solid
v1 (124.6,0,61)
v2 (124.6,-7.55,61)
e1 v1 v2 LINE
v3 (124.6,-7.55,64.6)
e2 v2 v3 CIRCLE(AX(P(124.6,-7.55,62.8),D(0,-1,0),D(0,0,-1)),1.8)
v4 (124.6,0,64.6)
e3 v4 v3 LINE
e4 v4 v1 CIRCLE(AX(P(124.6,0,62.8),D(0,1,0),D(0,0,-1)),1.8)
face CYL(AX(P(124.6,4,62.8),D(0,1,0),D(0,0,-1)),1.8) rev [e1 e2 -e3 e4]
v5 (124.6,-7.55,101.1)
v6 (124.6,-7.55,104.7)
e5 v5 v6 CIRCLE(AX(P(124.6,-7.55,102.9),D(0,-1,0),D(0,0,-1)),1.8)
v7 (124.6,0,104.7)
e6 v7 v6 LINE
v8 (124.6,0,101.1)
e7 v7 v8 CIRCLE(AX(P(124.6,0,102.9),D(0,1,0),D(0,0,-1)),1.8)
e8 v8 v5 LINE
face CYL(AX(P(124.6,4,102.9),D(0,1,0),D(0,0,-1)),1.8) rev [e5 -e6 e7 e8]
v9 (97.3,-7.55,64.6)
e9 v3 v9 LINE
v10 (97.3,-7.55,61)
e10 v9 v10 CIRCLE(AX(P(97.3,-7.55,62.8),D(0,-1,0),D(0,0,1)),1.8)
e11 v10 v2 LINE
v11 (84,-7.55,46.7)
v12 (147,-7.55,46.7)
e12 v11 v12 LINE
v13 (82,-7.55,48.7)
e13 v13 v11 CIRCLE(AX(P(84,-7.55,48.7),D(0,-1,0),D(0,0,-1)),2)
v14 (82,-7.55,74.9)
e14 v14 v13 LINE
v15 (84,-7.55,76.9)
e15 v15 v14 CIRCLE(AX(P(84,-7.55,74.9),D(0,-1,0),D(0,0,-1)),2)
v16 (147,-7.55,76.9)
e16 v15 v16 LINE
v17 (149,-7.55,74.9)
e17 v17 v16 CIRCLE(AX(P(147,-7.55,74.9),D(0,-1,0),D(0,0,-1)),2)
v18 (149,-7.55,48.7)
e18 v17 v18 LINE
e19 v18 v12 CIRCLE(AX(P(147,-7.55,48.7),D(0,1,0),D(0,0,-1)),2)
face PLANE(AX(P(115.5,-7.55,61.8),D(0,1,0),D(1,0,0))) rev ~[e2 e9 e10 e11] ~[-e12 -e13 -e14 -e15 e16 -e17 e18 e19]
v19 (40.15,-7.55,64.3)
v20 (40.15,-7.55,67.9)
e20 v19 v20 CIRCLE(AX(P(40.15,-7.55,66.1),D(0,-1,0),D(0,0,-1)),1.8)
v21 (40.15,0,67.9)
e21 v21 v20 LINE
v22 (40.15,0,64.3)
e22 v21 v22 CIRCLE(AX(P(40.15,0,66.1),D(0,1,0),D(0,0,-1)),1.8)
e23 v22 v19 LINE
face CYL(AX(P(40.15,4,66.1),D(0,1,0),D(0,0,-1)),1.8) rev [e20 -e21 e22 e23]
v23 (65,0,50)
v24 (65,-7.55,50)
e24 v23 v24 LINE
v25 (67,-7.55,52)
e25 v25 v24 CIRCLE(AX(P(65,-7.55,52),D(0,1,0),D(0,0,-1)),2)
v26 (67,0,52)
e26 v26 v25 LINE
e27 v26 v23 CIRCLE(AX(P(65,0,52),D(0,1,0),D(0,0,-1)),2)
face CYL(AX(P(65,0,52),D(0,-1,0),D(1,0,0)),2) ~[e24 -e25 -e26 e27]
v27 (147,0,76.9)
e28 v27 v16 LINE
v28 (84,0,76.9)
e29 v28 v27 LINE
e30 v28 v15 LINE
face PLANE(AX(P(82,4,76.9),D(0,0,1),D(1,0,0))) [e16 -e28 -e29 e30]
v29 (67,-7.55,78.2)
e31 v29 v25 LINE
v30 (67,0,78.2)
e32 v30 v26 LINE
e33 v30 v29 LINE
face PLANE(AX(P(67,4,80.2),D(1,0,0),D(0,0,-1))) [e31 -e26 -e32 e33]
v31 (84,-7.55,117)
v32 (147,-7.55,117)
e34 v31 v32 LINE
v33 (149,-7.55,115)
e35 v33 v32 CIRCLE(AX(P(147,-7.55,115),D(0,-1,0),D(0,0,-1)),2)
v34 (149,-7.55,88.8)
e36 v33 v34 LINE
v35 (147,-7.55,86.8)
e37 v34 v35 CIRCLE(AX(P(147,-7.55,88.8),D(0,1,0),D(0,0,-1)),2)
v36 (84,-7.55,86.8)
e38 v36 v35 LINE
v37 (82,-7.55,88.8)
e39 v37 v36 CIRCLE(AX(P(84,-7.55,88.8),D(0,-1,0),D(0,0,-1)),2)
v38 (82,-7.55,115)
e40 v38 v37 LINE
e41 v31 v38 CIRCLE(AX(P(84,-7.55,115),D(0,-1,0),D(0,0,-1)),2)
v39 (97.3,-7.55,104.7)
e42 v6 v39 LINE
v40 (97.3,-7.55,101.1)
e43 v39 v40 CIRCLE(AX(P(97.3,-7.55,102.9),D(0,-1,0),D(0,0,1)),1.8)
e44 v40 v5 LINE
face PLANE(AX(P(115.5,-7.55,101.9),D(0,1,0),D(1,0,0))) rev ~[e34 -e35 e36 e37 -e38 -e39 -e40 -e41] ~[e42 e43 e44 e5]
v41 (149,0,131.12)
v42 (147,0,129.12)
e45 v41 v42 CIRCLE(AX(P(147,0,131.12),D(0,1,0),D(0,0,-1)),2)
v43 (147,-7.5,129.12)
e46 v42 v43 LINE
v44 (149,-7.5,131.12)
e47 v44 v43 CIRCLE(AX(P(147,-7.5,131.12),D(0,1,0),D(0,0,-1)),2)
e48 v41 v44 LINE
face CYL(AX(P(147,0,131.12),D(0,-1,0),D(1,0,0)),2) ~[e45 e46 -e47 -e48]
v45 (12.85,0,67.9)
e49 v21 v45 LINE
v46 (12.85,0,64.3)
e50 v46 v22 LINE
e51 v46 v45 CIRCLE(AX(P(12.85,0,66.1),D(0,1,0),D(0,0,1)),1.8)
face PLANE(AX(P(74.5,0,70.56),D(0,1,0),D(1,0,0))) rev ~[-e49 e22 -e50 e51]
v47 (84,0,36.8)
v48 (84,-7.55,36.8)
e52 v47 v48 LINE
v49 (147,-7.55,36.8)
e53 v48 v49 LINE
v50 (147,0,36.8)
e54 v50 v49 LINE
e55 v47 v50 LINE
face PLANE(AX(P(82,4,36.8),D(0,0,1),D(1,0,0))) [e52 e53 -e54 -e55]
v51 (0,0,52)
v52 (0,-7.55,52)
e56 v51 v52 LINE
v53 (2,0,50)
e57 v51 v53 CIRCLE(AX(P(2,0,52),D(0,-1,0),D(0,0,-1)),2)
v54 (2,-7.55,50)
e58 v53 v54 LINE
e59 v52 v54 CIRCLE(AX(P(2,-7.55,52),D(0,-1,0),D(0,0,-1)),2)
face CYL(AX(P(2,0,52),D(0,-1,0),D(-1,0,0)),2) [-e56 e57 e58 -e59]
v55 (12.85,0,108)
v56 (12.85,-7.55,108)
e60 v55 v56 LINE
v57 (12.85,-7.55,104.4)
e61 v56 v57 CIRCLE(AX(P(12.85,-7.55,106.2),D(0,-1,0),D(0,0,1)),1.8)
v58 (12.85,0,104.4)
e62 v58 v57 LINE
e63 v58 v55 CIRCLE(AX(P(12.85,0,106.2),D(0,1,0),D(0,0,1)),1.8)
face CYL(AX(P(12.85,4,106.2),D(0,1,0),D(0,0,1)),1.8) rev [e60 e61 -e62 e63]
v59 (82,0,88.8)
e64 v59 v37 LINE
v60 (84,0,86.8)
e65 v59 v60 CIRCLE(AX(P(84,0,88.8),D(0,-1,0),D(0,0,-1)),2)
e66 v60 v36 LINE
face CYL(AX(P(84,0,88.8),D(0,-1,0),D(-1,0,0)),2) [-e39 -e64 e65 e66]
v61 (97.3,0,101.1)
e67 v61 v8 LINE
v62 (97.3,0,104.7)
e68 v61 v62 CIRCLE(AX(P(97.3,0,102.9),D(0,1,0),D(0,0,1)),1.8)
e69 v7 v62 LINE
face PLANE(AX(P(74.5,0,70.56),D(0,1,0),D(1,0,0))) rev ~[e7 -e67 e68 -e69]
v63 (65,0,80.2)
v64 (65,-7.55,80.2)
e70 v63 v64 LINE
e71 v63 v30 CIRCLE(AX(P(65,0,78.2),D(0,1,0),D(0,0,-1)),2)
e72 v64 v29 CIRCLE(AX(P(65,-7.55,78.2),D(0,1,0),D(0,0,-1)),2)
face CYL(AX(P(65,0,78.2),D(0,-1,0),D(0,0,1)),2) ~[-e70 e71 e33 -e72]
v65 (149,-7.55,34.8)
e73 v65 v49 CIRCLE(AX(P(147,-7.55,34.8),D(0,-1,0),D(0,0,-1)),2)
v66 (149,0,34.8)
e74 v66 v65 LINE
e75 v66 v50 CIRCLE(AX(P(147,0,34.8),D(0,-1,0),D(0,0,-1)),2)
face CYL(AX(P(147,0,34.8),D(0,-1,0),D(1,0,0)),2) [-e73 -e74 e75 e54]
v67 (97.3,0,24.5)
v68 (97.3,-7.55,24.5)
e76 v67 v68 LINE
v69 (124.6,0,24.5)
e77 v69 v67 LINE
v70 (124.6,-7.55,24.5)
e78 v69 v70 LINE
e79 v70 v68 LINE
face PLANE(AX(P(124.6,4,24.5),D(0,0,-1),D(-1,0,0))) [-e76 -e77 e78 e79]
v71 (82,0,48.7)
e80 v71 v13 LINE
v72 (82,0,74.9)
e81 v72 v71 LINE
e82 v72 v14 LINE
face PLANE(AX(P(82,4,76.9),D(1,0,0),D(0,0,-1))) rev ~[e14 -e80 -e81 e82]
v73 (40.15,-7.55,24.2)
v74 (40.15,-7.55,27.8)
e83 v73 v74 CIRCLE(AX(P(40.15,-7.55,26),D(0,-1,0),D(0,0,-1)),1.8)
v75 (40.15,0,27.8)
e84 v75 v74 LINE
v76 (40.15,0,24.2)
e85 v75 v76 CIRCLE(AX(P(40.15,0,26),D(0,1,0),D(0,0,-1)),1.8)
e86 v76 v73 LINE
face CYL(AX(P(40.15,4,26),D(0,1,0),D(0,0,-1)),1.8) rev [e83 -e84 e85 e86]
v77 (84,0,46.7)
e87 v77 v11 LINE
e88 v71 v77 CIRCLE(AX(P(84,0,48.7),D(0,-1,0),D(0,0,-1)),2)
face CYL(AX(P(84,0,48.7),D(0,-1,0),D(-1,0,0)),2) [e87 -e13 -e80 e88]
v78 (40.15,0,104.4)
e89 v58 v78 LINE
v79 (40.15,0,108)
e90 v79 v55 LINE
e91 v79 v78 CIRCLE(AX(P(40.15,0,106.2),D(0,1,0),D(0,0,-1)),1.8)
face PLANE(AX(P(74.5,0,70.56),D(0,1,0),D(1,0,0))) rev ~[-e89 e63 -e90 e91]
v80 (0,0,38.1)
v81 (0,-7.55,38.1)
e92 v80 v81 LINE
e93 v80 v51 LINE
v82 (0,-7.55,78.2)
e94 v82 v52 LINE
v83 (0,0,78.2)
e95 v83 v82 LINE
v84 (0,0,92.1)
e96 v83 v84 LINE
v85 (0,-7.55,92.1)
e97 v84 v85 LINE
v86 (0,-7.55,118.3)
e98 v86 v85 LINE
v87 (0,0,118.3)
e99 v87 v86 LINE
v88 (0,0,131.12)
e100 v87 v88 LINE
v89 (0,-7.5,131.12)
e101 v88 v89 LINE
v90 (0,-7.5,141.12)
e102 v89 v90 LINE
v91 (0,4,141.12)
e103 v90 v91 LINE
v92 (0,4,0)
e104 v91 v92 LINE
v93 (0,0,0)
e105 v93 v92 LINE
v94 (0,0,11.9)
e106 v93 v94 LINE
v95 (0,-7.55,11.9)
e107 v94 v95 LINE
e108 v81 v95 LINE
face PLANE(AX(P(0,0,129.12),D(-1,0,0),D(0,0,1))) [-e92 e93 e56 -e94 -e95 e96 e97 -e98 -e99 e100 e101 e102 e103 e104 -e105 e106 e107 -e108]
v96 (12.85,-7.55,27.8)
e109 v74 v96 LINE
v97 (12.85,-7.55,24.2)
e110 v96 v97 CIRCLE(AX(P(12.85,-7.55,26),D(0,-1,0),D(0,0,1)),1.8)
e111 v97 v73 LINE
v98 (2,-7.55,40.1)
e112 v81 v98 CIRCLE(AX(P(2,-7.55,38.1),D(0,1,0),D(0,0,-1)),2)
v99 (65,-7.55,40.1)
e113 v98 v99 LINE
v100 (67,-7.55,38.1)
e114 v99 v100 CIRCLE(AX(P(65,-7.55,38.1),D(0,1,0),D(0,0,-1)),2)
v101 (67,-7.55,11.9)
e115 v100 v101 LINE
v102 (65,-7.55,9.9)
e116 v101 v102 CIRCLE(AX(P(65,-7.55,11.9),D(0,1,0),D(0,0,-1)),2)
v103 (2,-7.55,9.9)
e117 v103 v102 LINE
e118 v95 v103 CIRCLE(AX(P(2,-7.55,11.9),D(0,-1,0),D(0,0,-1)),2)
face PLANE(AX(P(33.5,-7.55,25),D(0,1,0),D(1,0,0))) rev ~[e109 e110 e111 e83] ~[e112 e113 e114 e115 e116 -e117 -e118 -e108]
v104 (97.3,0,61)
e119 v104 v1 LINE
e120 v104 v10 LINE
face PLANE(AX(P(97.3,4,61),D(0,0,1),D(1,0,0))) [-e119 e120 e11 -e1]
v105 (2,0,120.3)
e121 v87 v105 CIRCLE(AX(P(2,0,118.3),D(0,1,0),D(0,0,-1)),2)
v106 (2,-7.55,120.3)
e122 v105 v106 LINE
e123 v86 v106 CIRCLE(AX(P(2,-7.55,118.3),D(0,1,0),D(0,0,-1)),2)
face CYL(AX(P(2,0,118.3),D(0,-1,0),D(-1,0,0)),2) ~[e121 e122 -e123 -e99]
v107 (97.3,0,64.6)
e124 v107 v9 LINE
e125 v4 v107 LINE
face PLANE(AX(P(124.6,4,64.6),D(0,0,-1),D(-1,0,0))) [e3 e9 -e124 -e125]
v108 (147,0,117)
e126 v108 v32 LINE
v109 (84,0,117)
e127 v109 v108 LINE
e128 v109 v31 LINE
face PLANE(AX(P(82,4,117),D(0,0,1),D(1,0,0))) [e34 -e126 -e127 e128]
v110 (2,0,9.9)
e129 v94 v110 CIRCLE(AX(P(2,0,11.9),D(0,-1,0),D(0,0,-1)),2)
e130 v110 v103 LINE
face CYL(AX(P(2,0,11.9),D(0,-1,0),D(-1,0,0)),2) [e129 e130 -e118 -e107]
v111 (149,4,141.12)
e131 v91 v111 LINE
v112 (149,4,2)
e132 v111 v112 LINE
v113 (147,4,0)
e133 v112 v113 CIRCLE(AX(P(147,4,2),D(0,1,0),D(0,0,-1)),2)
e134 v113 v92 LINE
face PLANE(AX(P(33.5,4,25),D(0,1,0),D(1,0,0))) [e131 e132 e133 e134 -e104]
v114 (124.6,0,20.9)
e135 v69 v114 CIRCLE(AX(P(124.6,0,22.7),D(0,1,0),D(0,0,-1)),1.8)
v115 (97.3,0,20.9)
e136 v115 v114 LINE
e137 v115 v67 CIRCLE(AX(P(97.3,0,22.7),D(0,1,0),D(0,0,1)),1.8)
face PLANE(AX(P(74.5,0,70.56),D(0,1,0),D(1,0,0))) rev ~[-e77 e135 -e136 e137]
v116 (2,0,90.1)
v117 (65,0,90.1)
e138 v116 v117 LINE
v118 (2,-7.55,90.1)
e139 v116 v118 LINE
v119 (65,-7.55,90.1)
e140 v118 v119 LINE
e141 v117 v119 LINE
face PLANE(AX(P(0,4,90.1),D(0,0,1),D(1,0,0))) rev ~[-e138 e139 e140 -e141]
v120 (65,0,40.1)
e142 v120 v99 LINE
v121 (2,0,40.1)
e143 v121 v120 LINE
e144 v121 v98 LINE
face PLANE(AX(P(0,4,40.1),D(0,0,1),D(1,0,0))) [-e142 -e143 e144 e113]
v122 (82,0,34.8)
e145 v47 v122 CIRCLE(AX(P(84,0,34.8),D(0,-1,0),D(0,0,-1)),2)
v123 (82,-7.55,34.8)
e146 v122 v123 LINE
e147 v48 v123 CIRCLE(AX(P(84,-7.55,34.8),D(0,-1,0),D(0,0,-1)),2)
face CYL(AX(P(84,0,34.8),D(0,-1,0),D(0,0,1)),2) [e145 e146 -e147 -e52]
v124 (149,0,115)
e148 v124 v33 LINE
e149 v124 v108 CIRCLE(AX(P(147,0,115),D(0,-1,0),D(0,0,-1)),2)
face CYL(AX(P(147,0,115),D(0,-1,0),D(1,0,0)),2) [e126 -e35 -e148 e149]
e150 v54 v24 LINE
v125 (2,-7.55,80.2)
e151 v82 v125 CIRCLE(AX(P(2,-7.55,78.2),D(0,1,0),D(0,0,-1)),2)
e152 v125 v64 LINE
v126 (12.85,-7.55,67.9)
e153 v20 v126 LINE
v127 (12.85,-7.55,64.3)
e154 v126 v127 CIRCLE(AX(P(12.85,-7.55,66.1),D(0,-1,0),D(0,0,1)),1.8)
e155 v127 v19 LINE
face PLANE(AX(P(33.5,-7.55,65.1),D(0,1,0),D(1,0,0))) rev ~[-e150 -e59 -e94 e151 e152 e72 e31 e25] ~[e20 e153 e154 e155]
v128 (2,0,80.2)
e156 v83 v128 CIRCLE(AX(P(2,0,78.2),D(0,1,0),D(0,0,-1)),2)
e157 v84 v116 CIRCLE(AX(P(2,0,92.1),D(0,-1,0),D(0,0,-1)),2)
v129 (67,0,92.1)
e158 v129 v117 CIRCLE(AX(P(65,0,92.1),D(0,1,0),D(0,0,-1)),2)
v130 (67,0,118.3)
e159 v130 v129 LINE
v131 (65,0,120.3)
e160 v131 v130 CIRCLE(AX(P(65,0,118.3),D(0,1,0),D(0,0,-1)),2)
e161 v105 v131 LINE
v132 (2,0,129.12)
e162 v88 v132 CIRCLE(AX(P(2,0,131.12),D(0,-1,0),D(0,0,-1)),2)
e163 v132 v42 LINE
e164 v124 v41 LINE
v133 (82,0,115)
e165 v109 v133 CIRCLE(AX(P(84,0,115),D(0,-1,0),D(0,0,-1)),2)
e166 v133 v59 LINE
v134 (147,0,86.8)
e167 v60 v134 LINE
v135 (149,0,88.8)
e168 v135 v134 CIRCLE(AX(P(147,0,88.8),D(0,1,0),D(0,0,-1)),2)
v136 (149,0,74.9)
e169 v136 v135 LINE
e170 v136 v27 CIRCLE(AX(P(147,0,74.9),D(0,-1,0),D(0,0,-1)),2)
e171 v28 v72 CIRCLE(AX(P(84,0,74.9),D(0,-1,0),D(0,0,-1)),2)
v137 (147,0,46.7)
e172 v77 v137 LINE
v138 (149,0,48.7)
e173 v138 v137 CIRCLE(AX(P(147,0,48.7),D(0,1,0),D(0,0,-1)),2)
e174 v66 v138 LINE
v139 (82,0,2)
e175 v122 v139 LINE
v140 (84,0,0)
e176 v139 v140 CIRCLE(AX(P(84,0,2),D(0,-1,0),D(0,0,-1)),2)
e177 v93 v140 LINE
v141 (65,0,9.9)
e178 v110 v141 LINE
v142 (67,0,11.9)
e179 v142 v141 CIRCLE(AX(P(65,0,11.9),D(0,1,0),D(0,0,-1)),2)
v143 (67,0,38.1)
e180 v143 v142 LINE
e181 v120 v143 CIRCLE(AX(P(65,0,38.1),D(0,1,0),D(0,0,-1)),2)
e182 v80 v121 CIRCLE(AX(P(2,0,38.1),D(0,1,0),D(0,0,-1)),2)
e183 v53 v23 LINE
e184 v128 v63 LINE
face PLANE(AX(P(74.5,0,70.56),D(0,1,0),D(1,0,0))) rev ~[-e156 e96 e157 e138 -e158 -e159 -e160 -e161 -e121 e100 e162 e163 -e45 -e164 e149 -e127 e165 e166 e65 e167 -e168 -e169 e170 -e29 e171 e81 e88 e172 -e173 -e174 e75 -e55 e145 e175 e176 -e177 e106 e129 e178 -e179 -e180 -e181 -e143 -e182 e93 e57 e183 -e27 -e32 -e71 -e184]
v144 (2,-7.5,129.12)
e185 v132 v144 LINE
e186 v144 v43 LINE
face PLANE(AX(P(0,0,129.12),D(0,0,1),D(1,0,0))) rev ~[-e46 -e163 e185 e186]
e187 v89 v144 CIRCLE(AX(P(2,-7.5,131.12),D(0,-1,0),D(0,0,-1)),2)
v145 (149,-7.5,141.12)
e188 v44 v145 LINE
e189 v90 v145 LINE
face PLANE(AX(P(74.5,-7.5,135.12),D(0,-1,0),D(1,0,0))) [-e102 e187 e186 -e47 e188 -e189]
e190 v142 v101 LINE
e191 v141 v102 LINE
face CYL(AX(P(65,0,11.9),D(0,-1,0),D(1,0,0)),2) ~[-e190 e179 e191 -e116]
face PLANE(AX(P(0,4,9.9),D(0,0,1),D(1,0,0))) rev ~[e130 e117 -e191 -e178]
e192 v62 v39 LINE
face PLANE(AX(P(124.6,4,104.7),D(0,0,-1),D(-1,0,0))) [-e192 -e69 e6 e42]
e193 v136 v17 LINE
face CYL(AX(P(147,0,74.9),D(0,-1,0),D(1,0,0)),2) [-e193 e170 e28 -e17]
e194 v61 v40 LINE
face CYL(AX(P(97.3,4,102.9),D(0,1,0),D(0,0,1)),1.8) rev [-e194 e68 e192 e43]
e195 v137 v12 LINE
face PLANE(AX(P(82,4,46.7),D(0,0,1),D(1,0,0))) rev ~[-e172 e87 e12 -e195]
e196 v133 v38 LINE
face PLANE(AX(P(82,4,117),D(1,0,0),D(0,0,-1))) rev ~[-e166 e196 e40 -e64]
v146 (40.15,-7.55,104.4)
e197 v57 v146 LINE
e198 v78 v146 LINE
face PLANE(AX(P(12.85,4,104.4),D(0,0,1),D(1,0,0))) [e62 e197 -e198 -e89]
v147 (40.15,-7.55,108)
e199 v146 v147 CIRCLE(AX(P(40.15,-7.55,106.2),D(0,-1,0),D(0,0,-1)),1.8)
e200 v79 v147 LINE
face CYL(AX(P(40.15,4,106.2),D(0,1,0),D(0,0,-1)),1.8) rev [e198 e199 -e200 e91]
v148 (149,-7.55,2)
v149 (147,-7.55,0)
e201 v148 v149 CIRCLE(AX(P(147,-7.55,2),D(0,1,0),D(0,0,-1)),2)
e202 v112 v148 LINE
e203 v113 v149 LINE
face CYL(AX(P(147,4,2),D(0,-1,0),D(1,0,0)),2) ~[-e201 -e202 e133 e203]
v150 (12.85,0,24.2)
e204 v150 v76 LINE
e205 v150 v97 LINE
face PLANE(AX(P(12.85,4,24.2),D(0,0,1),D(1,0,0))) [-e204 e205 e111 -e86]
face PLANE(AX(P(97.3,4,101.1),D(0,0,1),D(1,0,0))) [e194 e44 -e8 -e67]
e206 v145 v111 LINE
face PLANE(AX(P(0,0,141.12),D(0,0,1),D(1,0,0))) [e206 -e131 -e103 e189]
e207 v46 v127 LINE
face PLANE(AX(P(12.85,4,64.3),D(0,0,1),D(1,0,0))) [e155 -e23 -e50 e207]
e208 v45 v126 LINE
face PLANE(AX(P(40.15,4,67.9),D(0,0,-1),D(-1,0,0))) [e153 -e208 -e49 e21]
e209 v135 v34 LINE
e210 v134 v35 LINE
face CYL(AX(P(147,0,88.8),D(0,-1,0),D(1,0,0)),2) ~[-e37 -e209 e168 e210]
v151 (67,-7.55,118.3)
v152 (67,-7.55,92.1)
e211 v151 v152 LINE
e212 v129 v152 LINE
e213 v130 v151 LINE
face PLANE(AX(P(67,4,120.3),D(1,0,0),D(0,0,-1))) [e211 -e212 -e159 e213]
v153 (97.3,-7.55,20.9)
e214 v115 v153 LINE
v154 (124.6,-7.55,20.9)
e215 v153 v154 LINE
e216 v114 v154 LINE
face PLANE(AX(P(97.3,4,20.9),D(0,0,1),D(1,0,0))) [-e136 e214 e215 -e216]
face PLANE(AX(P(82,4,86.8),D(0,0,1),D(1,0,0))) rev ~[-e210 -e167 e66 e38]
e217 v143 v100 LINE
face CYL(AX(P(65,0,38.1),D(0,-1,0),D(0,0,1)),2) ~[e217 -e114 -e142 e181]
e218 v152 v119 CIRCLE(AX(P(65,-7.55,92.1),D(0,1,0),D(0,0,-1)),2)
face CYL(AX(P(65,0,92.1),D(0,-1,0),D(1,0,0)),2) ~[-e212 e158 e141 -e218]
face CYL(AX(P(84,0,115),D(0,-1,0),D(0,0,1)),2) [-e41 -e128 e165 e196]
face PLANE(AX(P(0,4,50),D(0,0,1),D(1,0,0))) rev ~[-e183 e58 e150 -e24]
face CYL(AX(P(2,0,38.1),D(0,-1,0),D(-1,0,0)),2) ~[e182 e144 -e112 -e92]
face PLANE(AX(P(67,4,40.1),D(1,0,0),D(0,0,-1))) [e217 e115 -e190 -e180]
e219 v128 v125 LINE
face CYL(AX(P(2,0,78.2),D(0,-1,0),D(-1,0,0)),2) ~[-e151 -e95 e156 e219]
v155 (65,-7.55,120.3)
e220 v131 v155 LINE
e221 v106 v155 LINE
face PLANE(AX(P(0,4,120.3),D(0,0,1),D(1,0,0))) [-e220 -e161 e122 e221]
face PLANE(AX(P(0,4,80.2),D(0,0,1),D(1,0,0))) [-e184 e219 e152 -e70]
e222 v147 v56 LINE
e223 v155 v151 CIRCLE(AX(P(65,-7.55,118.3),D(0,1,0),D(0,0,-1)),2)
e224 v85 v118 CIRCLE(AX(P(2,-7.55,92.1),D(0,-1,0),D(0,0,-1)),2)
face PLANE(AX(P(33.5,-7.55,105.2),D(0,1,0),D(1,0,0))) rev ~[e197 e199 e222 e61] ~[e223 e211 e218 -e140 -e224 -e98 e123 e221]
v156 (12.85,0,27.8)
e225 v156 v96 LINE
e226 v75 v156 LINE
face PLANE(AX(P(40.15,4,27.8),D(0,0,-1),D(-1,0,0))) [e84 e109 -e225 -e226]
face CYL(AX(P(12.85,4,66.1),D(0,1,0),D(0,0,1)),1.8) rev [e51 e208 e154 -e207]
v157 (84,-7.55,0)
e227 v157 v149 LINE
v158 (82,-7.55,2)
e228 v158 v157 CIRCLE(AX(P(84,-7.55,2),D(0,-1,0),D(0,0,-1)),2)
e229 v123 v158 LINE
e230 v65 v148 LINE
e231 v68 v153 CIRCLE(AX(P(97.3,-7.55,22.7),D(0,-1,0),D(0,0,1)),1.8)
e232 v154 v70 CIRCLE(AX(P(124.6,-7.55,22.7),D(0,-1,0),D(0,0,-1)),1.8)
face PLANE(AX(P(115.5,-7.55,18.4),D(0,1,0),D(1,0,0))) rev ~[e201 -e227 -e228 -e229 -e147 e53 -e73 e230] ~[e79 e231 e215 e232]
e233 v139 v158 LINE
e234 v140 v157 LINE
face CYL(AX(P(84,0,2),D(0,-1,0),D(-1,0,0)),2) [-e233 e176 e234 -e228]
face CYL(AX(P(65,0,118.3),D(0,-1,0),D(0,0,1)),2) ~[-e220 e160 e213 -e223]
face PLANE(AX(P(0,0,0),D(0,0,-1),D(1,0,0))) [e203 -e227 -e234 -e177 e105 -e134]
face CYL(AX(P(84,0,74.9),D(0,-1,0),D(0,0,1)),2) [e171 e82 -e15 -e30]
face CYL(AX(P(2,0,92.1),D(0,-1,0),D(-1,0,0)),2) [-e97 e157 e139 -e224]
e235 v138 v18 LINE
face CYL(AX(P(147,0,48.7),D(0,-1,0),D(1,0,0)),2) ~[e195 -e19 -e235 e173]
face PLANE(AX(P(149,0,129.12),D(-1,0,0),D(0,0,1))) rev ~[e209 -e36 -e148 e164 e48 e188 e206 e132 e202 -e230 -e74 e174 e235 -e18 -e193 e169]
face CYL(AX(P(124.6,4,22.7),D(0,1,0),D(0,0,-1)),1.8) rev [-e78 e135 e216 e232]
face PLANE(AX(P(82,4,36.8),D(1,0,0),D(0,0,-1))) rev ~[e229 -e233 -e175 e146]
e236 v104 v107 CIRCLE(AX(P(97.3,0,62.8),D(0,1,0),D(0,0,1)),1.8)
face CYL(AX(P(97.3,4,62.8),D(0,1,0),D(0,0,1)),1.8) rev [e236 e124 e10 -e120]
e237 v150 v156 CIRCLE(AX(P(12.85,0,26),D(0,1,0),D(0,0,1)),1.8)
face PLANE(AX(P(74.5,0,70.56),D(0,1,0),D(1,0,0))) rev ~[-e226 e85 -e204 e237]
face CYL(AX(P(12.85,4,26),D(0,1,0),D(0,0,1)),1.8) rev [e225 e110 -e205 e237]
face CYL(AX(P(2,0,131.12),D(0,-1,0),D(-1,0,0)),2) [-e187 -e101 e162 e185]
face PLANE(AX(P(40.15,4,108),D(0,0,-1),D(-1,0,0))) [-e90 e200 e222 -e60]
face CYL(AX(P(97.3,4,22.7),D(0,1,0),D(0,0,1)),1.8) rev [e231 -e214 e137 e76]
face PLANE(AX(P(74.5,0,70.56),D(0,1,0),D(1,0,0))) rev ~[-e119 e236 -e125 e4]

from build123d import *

# Parameters (mm, degrees)
SKETCH3_W           = 149
SKETCH3_H           = 141.12
BOSS_EXTRUDE1_DEPTH = 4
SKETCH5_W           = 67
SKETCH5_H           = 30.2
SKETCH5_H_2         = 36.8
BOSS_EXTRUDE2_DEPTH = 11.55
FILLET1_R           = 2
SKETCH6_W           = 149
SKETCH6_H           = 12
BOSS_EXTRUDE3_DEPTH = 7.5
FILLET2_R           = 2


with BuildPart() as part:
    # Sketch3 → Boss-Extrude1 (new body)
    with BuildSketch(Plane(origin=(0, 0, 0), x_dir=(1, 0, 0), z_dir=(0, 1, 0))):
        with Locations((74.5, -70.56)):
            Rectangle(SKETCH3_W, SKETCH3_H)
    extrude(amount=BOSS_EXTRUDE1_DEPTH)

    # Sketch5 → Boss-Extrude2 (add)
    # profile 1 of 6: a face of its own
    with BuildSketch(Plane(origin=(0, 4, 0), x_dir=(1, 0, 0), z_dir=(0, 1, 0))):
        with Locations((33.5, -25)):
            Rectangle(SKETCH5_W, SKETCH5_H)
        with BuildLine():
            ThreePointArc((12.85, -27.8), (11.05, -26), (12.85, -24.2))
            Line((12.85, -24.2), (40.15, -24.2))
            ThreePointArc((40.15, -24.2), (41.95, -26), (40.15, -27.8))
            Line((40.15, -27.8), (12.85, -27.8))
        make_face(mode=Mode.SUBTRACT)
    # profile 2 of 6: a face of its own
    with BuildSketch(Plane(origin=(0, 4, 0), x_dir=(1, 0, 0), z_dir=(0, 1, 0))):
        with Locations((115.5, -18.4)):
            Rectangle(SKETCH5_W, SKETCH5_H_2)
        with BuildLine():
            ThreePointArc((97.3, -24.5), (95.5, -22.7), (97.3, -20.9))
            Line((97.3, -20.9), (124.6, -20.9))
            ThreePointArc((124.6, -20.9), (126.4, -22.7), (124.6, -24.5))
            Line((124.6, -24.5), (97.3, -24.5))
        make_face(mode=Mode.SUBTRACT)
    # profile 3 of 6: a face of its own
    with BuildSketch(Plane(origin=(0, 4, 0), x_dir=(1, 0, 0), z_dir=(0, 1, 0))):
        with Locations((33.5, -65.1)):
            Rectangle(SKETCH5_W, SKETCH5_H)
        with BuildLine():
            ThreePointArc((12.85, -67.9), (11.05, -66.1), (12.85, -64.3))
            Line((12.85, -64.3), (40.15, -64.3))
            ThreePointArc((40.15, -64.3), (41.95, -66.1), (40.15, -67.9))
            Line((40.15, -67.9), (12.85, -67.9))
        make_face(mode=Mode.SUBTRACT)
    # profile 4 of 6: a face of its own
    with BuildSketch(Plane(origin=(0, 4, 0), x_dir=(1, 0, 0), z_dir=(0, 1, 0))):
        with Locations((115.5, -61.8)):
            Rectangle(SKETCH5_W, SKETCH5_H)
        with BuildLine():
            ThreePointArc((97.3, -64.6), (95.5, -62.8), (97.3, -61))
            Line((97.3, -61), (124.6, -61))
            ThreePointArc((124.6, -61), (126.4, -62.8), (124.6, -64.6))
            Line((124.6, -64.6), (97.3, -64.6))
        make_face(mode=Mode.SUBTRACT)
    # profile 5 of 6: a face of its own
    with BuildSketch(Plane(origin=(0, 4, 0), x_dir=(1, 0, 0), z_dir=(0, 1, 0))):
        with Locations((33.5, -105.2)):
            Rectangle(SKETCH5_W, SKETCH5_H)
        with BuildLine():
            ThreePointArc((12.85, -108), (11.05, -106.2), (12.85, -104.4))
            Line((12.85, -104.4), (40.15, -104.4))
            ThreePointArc((40.15, -104.4), (41.95, -106.2), (40.15, -108))
            Line((40.15, -108), (12.85, -108))
        make_face(mode=Mode.SUBTRACT)
    # profile 6 of 6: a face of its own
    with BuildSketch(Plane(origin=(0, 4, 0), x_dir=(1, 0, 0), z_dir=(0, 1, 0))):
        with Locations((115.5, -101.9)):
            Rectangle(SKETCH5_W, SKETCH5_H)
        with BuildLine():
            ThreePointArc((97.3, -104.7), (95.5, -102.9), (97.3, -101.1))
            Line((97.3, -101.1), (124.6, -101.1))
            ThreePointArc((124.6, -101.1), (126.4, -102.9), (124.6, -104.7))
            Line((124.6, -104.7), (97.3, -104.7))
        make_face(mode=Mode.SUBTRACT)
    extrude(amount=-BOSS_EXTRUDE2_DEPTH)

    # Fillet1
    fillet1_edges = [part.edges().sort_by_distance(p)[0] for p in [
        (67, -3.775, 50),
        (67, -3.775, 80.2),
        (0, -3.775, 80.2),
        (0, -3.775, 50),
        (82, -3.775, 46.7),
        (149, -3.775, 46.7),
        (149, -3.775, 76.9),
        (82, -3.775, 76.9),
        (67, -3.775, 90.1),
        (67, -3.775, 120.3),
        (0, -3.775, 120.3),
        (0, -3.775, 90.1),
        (82, -3.775, 86.8),
        (149, -3.775, 86.8),
        (149, -3.775, 117),
        (82, -3.775, 117),
        (67, -3.775, 9.9),
        (67, -3.775, 40.1),
        (0, -3.775, 40.1),
        (0, -3.775, 9.9),
        (82, -3.775, 0),
        (149, -3.775, 36.8),
        (82, -3.775, 36.8),
        (149, -1.775, 0),
    ]]
    fillet(fillet1_edges, radius=FILLET1_R)

    # Sketch6 → Boss-Extrude3 (add)
    with BuildSketch(Plane.XZ):
        with Locations((74.5, 135.12)):
            Rectangle(SKETCH6_W, SKETCH6_H)
    extrude(amount=BOSS_EXTRUDE3_DEPTH)

    # Fillet2
    fillet2_edges = [part.edges().sort_by_distance(p)[0] for p in [
        (0, -3.75, 129.12),
        (149, -3.75, 129.12),
    ]]
    fillet(fillet2_edges, radius=FILLET2_R)


solid = part.part
